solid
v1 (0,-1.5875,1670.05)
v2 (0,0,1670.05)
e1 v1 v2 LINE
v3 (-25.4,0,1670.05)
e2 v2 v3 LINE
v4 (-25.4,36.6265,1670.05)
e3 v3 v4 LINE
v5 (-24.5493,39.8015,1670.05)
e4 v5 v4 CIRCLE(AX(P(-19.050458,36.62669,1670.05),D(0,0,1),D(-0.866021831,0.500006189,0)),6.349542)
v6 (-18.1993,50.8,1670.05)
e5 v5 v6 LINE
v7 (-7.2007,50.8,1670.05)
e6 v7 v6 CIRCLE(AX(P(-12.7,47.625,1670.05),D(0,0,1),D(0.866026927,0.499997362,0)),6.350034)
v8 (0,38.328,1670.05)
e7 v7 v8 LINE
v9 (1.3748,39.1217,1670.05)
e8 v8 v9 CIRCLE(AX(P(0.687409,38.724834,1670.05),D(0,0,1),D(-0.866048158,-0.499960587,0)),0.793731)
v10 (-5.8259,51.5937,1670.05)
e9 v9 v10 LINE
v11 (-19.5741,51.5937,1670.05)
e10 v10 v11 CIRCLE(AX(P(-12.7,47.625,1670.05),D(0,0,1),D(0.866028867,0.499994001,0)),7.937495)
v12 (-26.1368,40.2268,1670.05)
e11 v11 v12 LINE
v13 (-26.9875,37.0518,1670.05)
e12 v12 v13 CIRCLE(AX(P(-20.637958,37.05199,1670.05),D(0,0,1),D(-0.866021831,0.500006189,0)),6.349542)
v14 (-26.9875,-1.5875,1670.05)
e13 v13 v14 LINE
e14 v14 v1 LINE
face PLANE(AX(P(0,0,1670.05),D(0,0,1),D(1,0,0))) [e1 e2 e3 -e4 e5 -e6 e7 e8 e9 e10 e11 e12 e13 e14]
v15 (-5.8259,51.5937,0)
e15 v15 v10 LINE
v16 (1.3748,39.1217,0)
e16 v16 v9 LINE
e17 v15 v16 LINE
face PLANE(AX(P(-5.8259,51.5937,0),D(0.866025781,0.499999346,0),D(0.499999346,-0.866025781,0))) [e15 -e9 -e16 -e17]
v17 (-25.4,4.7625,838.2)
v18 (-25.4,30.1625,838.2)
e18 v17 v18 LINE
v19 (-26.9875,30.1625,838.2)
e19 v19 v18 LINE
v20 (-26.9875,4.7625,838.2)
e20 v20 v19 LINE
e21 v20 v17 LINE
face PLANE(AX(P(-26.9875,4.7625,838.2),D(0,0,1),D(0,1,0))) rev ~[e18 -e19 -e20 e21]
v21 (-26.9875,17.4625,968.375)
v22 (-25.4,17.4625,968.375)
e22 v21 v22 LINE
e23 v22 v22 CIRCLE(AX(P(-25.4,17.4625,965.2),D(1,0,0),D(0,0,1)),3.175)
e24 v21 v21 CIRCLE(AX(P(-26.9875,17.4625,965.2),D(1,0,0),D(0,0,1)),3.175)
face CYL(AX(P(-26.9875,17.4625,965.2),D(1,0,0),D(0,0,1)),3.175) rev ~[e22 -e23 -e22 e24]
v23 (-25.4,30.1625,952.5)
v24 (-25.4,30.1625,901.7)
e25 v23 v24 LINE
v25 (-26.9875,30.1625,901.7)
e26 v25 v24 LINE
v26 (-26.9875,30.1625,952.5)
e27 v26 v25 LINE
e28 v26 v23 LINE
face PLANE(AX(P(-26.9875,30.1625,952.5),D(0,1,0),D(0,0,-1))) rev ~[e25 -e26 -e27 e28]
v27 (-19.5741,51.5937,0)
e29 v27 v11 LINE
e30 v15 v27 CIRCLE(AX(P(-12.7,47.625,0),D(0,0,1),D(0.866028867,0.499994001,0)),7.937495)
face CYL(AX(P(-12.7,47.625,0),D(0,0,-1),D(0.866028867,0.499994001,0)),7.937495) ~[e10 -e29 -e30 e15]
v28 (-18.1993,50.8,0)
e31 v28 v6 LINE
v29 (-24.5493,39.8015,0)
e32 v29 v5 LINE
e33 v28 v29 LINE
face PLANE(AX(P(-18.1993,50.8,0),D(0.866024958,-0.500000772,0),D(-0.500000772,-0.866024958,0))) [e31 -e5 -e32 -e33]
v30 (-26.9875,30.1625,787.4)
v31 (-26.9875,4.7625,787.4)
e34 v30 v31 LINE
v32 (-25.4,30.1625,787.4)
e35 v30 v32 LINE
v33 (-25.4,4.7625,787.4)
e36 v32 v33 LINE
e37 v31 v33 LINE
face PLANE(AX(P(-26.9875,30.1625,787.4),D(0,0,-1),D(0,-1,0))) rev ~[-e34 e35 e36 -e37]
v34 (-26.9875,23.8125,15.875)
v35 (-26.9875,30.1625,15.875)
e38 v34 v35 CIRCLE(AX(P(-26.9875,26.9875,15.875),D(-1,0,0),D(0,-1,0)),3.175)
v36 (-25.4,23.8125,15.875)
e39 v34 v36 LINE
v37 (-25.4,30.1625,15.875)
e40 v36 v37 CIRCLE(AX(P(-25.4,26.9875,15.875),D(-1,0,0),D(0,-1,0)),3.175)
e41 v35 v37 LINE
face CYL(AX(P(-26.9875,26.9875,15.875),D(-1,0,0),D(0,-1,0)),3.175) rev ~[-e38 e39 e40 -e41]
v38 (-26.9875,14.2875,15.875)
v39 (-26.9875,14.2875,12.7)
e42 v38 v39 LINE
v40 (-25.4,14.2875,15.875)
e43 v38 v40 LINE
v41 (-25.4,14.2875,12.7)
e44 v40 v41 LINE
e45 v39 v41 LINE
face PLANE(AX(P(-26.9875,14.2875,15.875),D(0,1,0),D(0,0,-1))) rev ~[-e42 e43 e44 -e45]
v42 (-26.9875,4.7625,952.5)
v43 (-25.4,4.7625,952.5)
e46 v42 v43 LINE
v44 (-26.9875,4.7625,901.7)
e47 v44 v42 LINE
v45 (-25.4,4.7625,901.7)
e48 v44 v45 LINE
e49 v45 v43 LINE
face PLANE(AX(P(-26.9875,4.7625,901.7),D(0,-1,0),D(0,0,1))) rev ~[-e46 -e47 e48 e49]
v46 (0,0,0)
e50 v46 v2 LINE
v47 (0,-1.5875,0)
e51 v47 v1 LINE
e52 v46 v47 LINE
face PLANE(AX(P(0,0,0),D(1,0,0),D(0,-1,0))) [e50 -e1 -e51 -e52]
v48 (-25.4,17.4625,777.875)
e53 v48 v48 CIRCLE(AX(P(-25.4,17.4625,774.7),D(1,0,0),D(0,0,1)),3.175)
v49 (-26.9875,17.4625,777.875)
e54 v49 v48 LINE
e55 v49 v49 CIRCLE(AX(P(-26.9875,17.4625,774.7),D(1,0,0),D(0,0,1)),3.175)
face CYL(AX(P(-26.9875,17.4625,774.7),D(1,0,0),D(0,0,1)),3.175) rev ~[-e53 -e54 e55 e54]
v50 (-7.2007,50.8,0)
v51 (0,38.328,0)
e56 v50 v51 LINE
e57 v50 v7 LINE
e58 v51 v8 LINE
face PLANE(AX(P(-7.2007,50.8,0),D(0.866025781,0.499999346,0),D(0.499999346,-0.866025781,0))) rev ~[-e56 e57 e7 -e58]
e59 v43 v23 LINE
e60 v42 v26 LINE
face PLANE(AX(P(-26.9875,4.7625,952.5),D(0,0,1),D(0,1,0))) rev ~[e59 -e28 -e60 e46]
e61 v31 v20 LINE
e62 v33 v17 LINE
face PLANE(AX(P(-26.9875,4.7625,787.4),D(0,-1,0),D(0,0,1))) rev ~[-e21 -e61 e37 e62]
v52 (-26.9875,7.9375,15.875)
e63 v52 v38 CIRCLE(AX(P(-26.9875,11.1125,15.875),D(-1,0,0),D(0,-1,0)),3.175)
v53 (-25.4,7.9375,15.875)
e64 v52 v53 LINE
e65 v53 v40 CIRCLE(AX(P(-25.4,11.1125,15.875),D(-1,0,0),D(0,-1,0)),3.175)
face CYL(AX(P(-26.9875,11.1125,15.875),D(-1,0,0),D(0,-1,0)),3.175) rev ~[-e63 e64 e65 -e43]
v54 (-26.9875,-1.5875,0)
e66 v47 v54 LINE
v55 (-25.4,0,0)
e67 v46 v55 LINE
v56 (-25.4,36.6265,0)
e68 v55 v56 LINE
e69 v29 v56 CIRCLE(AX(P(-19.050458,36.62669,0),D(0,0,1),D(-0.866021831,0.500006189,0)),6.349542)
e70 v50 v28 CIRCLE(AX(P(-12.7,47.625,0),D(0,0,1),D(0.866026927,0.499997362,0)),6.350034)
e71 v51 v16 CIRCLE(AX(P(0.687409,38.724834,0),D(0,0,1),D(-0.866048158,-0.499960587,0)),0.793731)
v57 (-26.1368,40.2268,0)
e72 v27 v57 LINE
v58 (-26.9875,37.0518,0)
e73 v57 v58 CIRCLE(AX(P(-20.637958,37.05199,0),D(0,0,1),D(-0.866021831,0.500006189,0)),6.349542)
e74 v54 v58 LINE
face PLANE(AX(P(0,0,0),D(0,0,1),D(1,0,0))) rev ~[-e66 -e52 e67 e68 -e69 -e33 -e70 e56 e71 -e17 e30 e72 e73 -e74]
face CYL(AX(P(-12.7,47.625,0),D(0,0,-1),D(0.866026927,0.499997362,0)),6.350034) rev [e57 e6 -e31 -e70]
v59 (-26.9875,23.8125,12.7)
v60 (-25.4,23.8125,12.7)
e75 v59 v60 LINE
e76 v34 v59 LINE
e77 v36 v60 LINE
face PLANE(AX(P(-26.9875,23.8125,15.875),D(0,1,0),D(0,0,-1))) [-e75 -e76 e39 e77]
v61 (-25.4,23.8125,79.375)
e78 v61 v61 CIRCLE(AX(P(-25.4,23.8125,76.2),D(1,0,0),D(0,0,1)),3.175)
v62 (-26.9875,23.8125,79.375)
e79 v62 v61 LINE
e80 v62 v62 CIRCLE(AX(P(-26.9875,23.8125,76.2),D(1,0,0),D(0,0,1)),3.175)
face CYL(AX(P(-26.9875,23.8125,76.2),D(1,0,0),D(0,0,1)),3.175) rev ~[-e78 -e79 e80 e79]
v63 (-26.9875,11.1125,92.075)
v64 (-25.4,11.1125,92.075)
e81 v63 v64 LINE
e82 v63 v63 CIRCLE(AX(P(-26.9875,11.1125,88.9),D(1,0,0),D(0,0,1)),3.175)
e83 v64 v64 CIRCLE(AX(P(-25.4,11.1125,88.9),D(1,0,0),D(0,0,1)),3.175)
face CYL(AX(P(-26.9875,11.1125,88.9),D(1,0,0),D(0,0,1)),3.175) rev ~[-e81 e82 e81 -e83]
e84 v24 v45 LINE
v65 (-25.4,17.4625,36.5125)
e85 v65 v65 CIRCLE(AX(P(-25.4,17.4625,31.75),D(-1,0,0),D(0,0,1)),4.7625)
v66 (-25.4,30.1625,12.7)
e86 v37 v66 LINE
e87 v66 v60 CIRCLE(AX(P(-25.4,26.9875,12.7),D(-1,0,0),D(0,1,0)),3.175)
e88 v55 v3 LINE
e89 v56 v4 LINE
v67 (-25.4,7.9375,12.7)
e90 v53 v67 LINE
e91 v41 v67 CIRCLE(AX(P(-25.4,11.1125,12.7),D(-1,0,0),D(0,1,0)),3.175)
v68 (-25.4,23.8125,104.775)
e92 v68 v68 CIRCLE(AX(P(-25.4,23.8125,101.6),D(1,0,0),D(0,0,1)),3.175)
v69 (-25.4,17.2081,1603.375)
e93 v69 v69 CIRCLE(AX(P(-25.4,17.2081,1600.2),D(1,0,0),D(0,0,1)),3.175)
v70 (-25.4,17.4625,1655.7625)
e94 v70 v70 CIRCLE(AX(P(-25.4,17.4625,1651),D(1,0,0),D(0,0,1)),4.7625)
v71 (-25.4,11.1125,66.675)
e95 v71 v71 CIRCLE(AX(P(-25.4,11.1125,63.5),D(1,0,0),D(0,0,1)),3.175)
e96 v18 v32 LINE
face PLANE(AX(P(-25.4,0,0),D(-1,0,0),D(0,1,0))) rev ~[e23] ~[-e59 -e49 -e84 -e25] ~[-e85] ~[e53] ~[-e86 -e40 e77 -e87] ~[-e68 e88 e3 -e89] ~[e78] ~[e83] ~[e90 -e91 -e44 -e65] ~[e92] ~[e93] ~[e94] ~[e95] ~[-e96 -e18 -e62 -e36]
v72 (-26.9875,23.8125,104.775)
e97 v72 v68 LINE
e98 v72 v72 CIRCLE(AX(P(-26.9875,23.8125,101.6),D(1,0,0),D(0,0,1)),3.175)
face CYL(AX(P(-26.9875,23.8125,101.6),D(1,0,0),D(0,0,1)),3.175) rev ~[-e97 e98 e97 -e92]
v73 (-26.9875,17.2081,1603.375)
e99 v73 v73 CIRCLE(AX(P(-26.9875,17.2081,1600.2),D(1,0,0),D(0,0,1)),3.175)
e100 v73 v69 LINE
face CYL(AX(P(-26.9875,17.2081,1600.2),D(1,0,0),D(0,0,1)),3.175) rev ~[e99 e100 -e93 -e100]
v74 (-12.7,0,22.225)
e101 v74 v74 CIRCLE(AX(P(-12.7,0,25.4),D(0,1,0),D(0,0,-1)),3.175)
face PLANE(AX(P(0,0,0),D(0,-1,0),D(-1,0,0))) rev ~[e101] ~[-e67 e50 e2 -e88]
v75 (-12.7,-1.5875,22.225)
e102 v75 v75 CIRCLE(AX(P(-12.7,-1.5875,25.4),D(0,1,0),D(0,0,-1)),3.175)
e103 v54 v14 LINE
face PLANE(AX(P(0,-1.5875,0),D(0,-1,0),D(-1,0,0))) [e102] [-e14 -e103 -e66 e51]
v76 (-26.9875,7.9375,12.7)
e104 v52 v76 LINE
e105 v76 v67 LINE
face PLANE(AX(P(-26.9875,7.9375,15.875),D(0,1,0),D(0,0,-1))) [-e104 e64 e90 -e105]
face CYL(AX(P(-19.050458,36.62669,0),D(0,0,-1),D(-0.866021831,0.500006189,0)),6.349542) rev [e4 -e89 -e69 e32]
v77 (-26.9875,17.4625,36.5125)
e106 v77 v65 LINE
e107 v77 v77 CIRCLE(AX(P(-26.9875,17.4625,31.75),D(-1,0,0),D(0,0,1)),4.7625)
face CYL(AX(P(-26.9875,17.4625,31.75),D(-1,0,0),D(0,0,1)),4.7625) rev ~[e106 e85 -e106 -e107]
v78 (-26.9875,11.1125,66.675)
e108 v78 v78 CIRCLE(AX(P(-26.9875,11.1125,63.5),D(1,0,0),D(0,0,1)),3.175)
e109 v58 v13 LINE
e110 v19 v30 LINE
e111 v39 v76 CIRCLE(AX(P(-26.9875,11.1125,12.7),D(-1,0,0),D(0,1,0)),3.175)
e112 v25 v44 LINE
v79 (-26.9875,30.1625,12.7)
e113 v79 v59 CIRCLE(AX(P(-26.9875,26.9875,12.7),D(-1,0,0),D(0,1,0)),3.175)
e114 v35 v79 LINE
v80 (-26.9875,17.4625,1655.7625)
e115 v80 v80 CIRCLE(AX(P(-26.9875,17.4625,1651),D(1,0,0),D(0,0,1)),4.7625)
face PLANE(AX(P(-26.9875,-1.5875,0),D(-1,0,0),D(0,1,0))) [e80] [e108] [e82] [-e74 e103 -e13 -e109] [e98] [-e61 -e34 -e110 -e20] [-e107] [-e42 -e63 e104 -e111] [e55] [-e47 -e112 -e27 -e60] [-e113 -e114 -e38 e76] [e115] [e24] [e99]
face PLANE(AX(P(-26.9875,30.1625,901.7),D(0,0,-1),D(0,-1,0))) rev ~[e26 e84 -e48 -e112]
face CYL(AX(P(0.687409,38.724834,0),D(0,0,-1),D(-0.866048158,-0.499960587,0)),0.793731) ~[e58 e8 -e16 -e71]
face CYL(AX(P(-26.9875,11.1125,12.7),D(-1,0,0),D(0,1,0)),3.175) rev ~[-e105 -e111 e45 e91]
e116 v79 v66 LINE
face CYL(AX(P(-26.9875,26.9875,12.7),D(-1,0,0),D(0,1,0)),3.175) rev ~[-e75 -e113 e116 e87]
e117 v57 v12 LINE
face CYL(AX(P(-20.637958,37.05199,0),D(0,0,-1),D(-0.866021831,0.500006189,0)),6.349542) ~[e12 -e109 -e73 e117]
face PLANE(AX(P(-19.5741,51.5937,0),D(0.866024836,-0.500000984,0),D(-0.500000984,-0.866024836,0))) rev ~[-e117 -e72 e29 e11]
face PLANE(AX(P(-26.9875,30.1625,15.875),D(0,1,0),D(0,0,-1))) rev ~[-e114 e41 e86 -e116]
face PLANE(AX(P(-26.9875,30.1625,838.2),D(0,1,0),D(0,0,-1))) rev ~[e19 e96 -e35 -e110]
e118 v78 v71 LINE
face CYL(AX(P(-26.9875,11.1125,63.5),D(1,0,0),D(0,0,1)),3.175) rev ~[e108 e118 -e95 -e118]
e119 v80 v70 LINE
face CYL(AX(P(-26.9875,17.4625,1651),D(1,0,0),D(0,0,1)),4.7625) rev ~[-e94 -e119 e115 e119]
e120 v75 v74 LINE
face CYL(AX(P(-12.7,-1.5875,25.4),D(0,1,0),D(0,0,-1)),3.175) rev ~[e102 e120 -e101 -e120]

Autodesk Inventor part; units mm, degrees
ref_plane "YZ Plane" through (0, 0, 0) normal (1, 0, 0) x (0, 1, 0)
ref_plane "XZ Plane" through (0, 0, 0) normal (0, 1, 0) x (-1, 0, 0)
ref_plane "XY Plane" through (0, 0, 0) normal (0, 0, 1) x (1, 0, 0)
sketch "Sketch1" plane through (0, 0, 0) normal (0, 0, 1) x (1, 0, 0)
  line L0 (0, 0) -> (-12.7, 0) construction
  line L1 (-12.7, 0) -> (-12.7, 53.975) construction
  line L2 (-12.7, 53.975) -> (0, 53.975) construction
  line L3 (0, 53.975) -> (0, 0) construction
  line L4 (-12.7, 53.975) -> (-25.4, 53.975) construction
  line L5 (-12.7, 53.975) -> (0, 53.975) construction
  line L6 (-25.4, 53.975) -> (-25.4, 0) construction
  line L7 (-25.4, 0) -> (-12.7, 0) construction
  circle A0 centre (-12.7, 6.35) radius 6.35 construction
  circle A1 centre (-12.7, 47.625) radius 6.35 construction
  line L8 (-12.7, 47.625) -> (-18.1993, 50.8) construction
  line L9 (-12.7, 47.625) -> (-6.35, 47.625) construction
  line L10 (-12.7, 47.625) -> (-7.2007, 50.8) construction
  line L11 (-12.7, 47.625) -> (-6.35, 47.625) construction
  line L12 (0, 0) -> (-25.4, 0)
  line L13 (0, 0) -> (0, -1.5875)
  line L14 (0, 0) -> (1.5875, 0) construction
  line L15 (0, -1.5875) -> (-26.9875, -1.5875)
  arc A2 (-7.2007, 50.8) -> (-18.1993, 50.8) centre (-12.7, 47.625) ccw
  line L16 (-7.2007, 50.8) -> (0, 38.328)
  line L17 (-7.2007, 50.8) -> (7.2007, 50.8) construction
  line L18 (-18.1993, 50.8) -> (-24.5493, 39.8015)
  line L19 (-18.1993, 50.8) -> (-5.4993, 50.8) construction
  line L20 (-25.4, 0) -> (-25.4, 36.6265)
  line L21 (-19.5741, 51.5937) -> (-26.1368, 40.2268)
  line L22 (-26.9875, -1.5875) -> (-26.9875, 37.0518)
  arc A3 (-26.1368, 40.2268) -> (-26.9875, 37.0518) centre (-20.6375, 37.0518) ccw
  arc A4 (-24.5493, 39.8015) -> (-25.4, 36.6265) centre (-19.05, 36.6265) ccw
  line L23 (-5.8259, 51.5937) -> (1.3748, 39.1217)
  arc A5 (-5.8259, 51.5937) -> (-19.5741, 51.5937) centre (-12.7, 47.625) ccw
  arc A6 (0, 38.328) -> (1.3748, 39.1217) centre (0.6874, 38.7248) ccw
  point P0 (-25.4, 38.328)
  dimension "d0" = 12.7
  dimension "d1" = 53.975
  dimension "d2" = 12.7
  dimension "d3" = 180
  dimension "d4" = 53.975
  dimension "d5" = 90
  dimension "d6" = 12.7
  dimension "d7" = 12.7
  dimension "d8" = 6.35
  dimension "d9" = 6.35
  dimension "d10" = 6.35
  dimension "d11" = 150
  dimension "d12" = 6.35
  dimension "d13" = 30
  dimension "d14" = 1.5875
  dimension "d15" = 90
  dimension "d16" = 26.9875
  dimension "d17" = 6.35
  dimension "d18" = 60
  dimension "d19" = 120
  dimension "d20" = 90
  dimension "d21" = 1.5875
  dimension "d22" = 6.35
  dimension "d23" = 6.35
  dimension "d24" = 1.5875
  dimension "d25" = 7.9375
  dimension "d26" = 0
extrude "Extrusion1" add sketch "Sketch1" along normal blind 1689.1
sketch "Sketch2" plane through (-26.9875, -1.5875, 0) normal (-1, 0, 0) x (0, 0, 1)
  line L0 (0, 38.6393) -> (0, 0) projected
  line L1 (0, 0) -> (1689.1, 0) projected
  line L2 (1689.1, 38.6393) -> (1689.1, 0) projected
  line L3 (0, 38.6393) -> (1689.1, 38.6393) projected
  point P0 (0, 1.5875)
  point P1 (1651, 19.05)
  dimension "d29" = 19.05
  dimension "d30" = 38.1
hole "Hole1" at (-26.9875, 17.4625, 1651) direction (1, 0, 0) diameter 9.525 end through all
sketch "Sketch3" plane through (-26.9875, -1.5875, 0) normal (-1, 0, 0) x (0, 0, 1)
  circle A0 centre (1651, 19.05) radius 4.7625 projected
  line L0 (0, 38.6393) -> (0, 0) projected
  line L1 (0, 0) -> (1689.1, 0) projected
  line L2 (1689.1, 38.6393) -> (1689.1, 0) projected
  line L3 (0, 38.6393) -> (1689.1, 38.6393) projected
  circle A1 centre (31.75, 19.05) radius 4.7625
  line L4 (15.875, 28.575) -> (15.875, 25.4) construction
  line L5 (15.875, 28.575) -> (15.875, 31.75) construction
  line L6 (12.7, 28.575) -> (12.7, 31.75) construction
  line L7 (12.7, 28.575) -> (12.7, 25.4) construction
  line L8 (15.875, 12.7) -> (15.875, 15.875) construction
  line L9 (12.7, 12.7) -> (12.7, 15.875) construction
  line L10 (15.875, 12.7) -> (15.875, 9.525) construction
  line L11 (12.7, 12.7) -> (12.7, 9.525) construction
  arc A2 (15.875, 25.4) -> (15.875, 31.75) centre (15.875, 28.575) ccw
  arc A3 (12.7, 31.75) -> (12.7, 25.4) centre (12.7, 28.575) ccw
  arc A4 (15.875, 9.525) -> (15.875, 15.875) centre (15.875, 12.7) ccw
  arc A5 (12.7, 15.875) -> (12.7, 9.525) centre (12.7, 12.7) ccw
  line L12 (15.875, 31.75) -> (12.7, 31.75)
  line L13 (15.875, 25.4) -> (12.7, 25.4)
  line L14 (15.875, 15.875) -> (12.7, 15.875)
  line L15 (15.875, 9.525) -> (12.7, 9.525)
  point P0 (0, 1.5875)
  dimension "d45" = 12.7
  dimension "d46" = 15.875
  dimension "d47" = 31.75
  dimension "d48" = 12.7
  dimension "d49" = 15.875
  dimension "d50" = 9.525
  dimension "d51" = 19.05
  dimension "d52" = 12.7
  dimension "d53" = 12.7
  dimension "d54" = 28.575
  dimension "d55" = 28.575
  dimension "d56" = 3.175
  dimension "d57" = 3.175
  dimension "d58" = 3.175
  dimension "d59" = 3.175
  dimension "d60" = 3.175
  dimension "d61" = 3.175
  dimension "d62" = 3.175
  dimension "d63" = 3.175
  dimension "d64" = 3.175
  dimension "d65" = 3.175
  dimension "d66" = 3.175
  dimension "d67" = 3.175
extrude "Extrusion2" cut sketch "Sketch3" against normal blind 25.4 contours A1 | L13 A3 L12 A2 | L15 A5 L14 A4
sketch "Sketch4" plane through (-26.9875, -1.5875, 0) normal (-1, 0, 0) x (0, 0, 1)
  line L0 (12.7, 15.875) -> (15.875, 15.875) projected
  arc A0 (15.875, 9.525) -> (15.875, 15.875) centre (15.875, 12.7) ccw projected
  line L1 (15.875, 9.525) -> (12.7, 9.525) projected
  arc A1 (12.7, 15.875) -> (12.7, 9.525) centre (12.7, 12.7) ccw projected
  line L2 (12.7, 31.75) -> (15.875, 31.75) projected
  arc A2 (15.875, 25.4) -> (15.875, 31.75) centre (15.875, 28.575) ccw projected
  line L3 (15.875, 25.4) -> (12.7, 25.4) projected
  arc A3 (12.7, 31.75) -> (12.7, 25.4) centre (12.7, 28.575) ccw projected
  circle A4 centre (31.75, 19.05) radius 4.7625 projected
  circle A5 centre (1651, 19.05) radius 4.7625 projected
  line L4 (0, 38.6393) -> (0, 0) projected
  line L5 (0, 0) -> (1689.1, 0) projected
  line L6 (1689.1, 38.6393) -> (1689.1, 0) projected
  line L7 (0, 38.6393) -> (1689.1, 38.6393) projected
  point P0 (0, 1.5875)
  point P1 (101.6, 25.4)
  point P2 (88.9, 12.7)
  point P3 (76.2, 25.4)
  point P4 (63.5, 12.7)
  dimension "d70" = 63.5
  dimension "d71" = 76.2
  dimension "d72" = 88.9
  dimension "d73" = 101.6
  dimension "d74" = 12.7
  dimension "d77" = 12.7
  dimension "d120" = 25.4
  dimension "d121" = 25.4
hole "Hole2" at (-26.9875, 23.8125, 101.6) at (-26.9875, 11.1125, 88.9) at (-26.9875, 23.8125, 76.2) at (-26.9875, 11.1125, 63.5) direction (1, 0, 0) diameter 6.35 end through all
sketch "Sketch6" plane through (-26.9875, -1.5875, 0) normal (-1, 0, 0) x (0, 0, 1)
  circle A0 centre (76.2, 25.4) radius 3.175 projected
  circle A1 centre (101.6, 25.4) radius 3.175 projected
  circle A2 centre (88.9, 12.7) radius 3.175 projected
  circle A3 centre (63.5, 12.7) radius 3.175 projected
  line L0 (12.7, 15.875) -> (15.875, 15.875) projected
  arc A4 (15.875, 9.525) -> (15.875, 15.875) centre (15.875, 12.7) ccw projected
  line L1 (15.875, 9.525) -> (12.7, 9.525) projected
  arc A5 (12.7, 15.875) -> (12.7, 9.525) centre (12.7, 12.7) ccw projected
  line L2 (12.7, 31.75) -> (15.875, 31.75) projected
  arc A6 (15.875, 25.4) -> (15.875, 31.75) centre (15.875, 28.575) ccw projected
  line L3 (15.875, 25.4) -> (12.7, 25.4) projected
  arc A7 (12.7, 31.75) -> (12.7, 25.4) centre (12.7, 28.575) ccw projected
  circle A8 centre (31.75, 19.05) radius 4.7625 projected
  circle A9 centre (1651, 19.05) radius 4.7625 projected
  line L4 (0, 38.6393) -> (0, 0) projected
  line L5 (0, 0) -> (1689.1, 0) projected
  line L6 (1689.1, 38.6393) -> (1689.1, 0) projected
  line L7 (0, 38.6393) -> (1689.1, 38.6393) projected
  line L8 (787.4, 6.35) -> (838.2, 6.35)
  line L9 (838.2, 6.35) -> (838.2, 31.75)
  line L10 (838.2, 31.75) -> (787.4, 31.75)
  line L11 (787.4, 31.75) -> (787.4, 6.35)
  line L12 (901.7, 6.35) -> (952.5, 6.35)
  line L13 (952.5, 6.35) -> (952.5, 31.75)
  line L14 (952.5, 31.75) -> (901.7, 31.75)
  line L15 (901.7, 31.75) -> (901.7, 6.35)
  point P0 (0, 1.5875)
  dimension "d98" = 50.8
  dimension "d99" = 25.4
  dimension "d100" = 50.8
  dimension "d101" = 25.4
  dimension "d102" = 787.4
  dimension "d103" = 901.7
  dimension "d104" = 6.35
  dimension "d105" = 6.35
extrude "Extrusion3" cut sketch "Sketch6" against normal blind 25.4 contours L11 L10 L9 L8 | L15 L14 L13 L12
sketch "Sketch8" plane through (-26.9875, -1.5875, 0) normal (-1, 0, 0) x (0, 0, 1)
  line L0 (838.2, 31.75) -> (838.2, 6.35) projected
  line L1 (838.2, 6.35) -> (787.4, 6.35) projected
  line L2 (787.4, 6.35) -> (787.4, 31.75) projected
  line L3 (787.4, 31.75) -> (838.2, 31.75) projected
  line L4 (952.5, 31.75) -> (952.5, 6.35) projected
  line L5 (952.5, 6.35) -> (901.7, 6.35) projected
  line L6 (901.7, 6.35) -> (901.7, 31.75) projected
  line L7 (901.7, 31.75) -> (952.5, 31.75) projected
  circle A0 centre (76.2, 25.4) radius 3.175 projected
  circle A1 centre (101.6, 25.4) radius 3.175 projected
  circle A2 centre (88.9, 12.7) radius 3.175 projected
  circle A3 centre (63.5, 12.7) radius 3.175 projected
  line L8 (12.7, 15.875) -> (15.875, 15.875) projected
  arc A4 (15.875, 9.525) -> (15.875, 15.875) centre (15.875, 12.7) ccw projected
  line L9 (15.875, 9.525) -> (12.7, 9.525) projected
  arc A5 (12.7, 15.875) -> (12.7, 9.525) centre (12.7, 12.7) ccw projected
  line L10 (12.7, 31.75) -> (15.875, 31.75) projected
  arc A6 (15.875, 25.4) -> (15.875, 31.75) centre (15.875, 28.575) ccw projected
  line L11 (15.875, 25.4) -> (12.7, 25.4) projected
  arc A7 (12.7, 31.75) -> (12.7, 25.4) centre (12.7, 28.575) ccw projected
  circle A8 centre (31.75, 19.05) radius 4.7625 projected
  circle A9 centre (1651, 19.05) radius 4.7625 projected
  line L12 (0, 38.6393) -> (0, 0) projected
  line L13 (0, 0) -> (1689.1, 0) projected
  line L14 (1689.1, 38.6393) -> (1689.1, 0) projected
  line L15 (0, 38.6393) -> (1689.1, 38.6393) projected
  point P0 (0, 1.5875)
  point P1 (965.2, 19.05)
  point P2 (774.7, 19.05)
  dimension "d122" = 19.05
  dimension "d123" = 19.05
  dimension "d124" = 190.5
  dimension "d125" = 774.7
hole "Hole5" at (-26.9875, 17.4625, 965.2) at (-26.9875, 17.4625, 774.7) direction (1, 0, 0) diameter 6.35 end through all
sketch "Sketch9" plane through (0, -1.5875, 0) normal (0, -1, 0) x (1, 0, 0)
  line L0 (-26.9875, 0) -> (0, 0) projected
  line L1 (0, 0) -> (0, 1689.1) projected
  line L2 (-26.9875, 1689.1) -> (0, 1689.1) projected
  point P0 (-12.7, 25.4)
  point P1 (-12.7, 1676.4)
  dimension "d135" = 12.7
  dimension "d136" = 12.7
  dimension "d137" = 12.7
  dimension "d138" = 25.4
hole "Hole6" at (-12.7, -1.5875, 25.4) at (-12.7, -1.5875, 1676.4) direction (0, 1, 0) diameter 6.35 depth 25.4 tip angle 118
sketch "Sketch10" plane through (0, 0, 1689.1) normal (0, 0, 1) x (1, 0, 0)
  line L0 (0, 0) -> (-25.4, 0) projected
  line L1 (-25.4, 0) -> (-25.4, 36.6265) projected
  arc A0 (-24.5493, 39.8015) -> (-25.4, 36.6265) centre (-19.05, 36.6265) ccw projected
  line L2 (-24.5493, 39.8015) -> (-18.1993, 50.8) projected
  arc A1 (-7.2007, 50.8) -> (-18.1993, 50.8) centre (-12.7, 47.625) ccw projected
  line L3 (-7.2007, 50.8) -> (0, 38.328) projected
  arc A2 (0, 38.328) -> (1.3748, 39.1217) centre (0.6874, 38.7248) ccw projected
  line L4 (1.3748, 39.1217) -> (-5.8259, 51.5937) projected
  arc A3 (-5.8259, 51.5937) -> (-19.5741, 51.5937) centre (-12.7, 47.625) ccw projected
  line L5 (-19.5741, 51.5937) -> (-26.1368, 40.2268) projected
  arc A4 (-26.1368, 40.2268) -> (-26.9875, 37.0518) centre (-20.6375, 37.0518) ccw projected
  line L6 (-26.9875, 37.0518) -> (-26.9875, -1.5875) projected
  line L7 (-26.9875, -1.5875) -> (0, -1.5875) projected
  line L8 (0, -1.5875) -> (0, 0) projected
extrude "Extrusion4" cut sketch "Sketch10" against normal blind 19.05
sketch "Sketch11" plane through (-26.9875, -1.5875, 0) normal (-1, 0, 0) x (0, 0, 1)
  line L0 (1670.05, 0) -> (1670.05, 38.6393) projected
  line L1 (0, 38.6393) -> (1670.05, 38.6393) projected
  line L2 (0, 38.6393) -> (0, 0) projected
  line L3 (0, 0) -> (1670.05, 0) projected
  circle A0 centre (965.2, 19.05) radius 3.175 projected
  circle A1 centre (774.7, 19.05) radius 3.175 projected
  line L4 (838.2, 31.75) -> (838.2, 6.35) projected
  line L5 (838.2, 6.35) -> (787.4, 6.35) projected
  line L6 (787.4, 6.35) -> (787.4, 31.75) projected
  line L7 (787.4, 31.75) -> (838.2, 31.75) projected
  line L8 (952.5, 31.75) -> (952.5, 6.35) projected
  line L9 (952.5, 6.35) -> (901.7, 6.35) projected
  line L10 (901.7, 6.35) -> (901.7, 31.75) projected
  line L11 (901.7, 31.75) -> (952.5, 31.75) projected
  circle A2 centre (76.2, 25.4) radius 3.175 projected
  circle A3 centre (101.6, 25.4) radius 3.175 projected
  circle A4 centre (88.9, 12.7) radius 3.175 projected
  circle A5 centre (63.5, 12.7) radius 3.175 projected
  line L12 (12.7, 15.875) -> (15.875, 15.875) projected
  arc A6 (15.875, 9.525) -> (15.875, 15.875) centre (15.875, 12.7) ccw projected
  line L13 (15.875, 9.525) -> (12.7, 9.525) projected
  arc A7 (12.7, 15.875) -> (12.7, 9.525) centre (12.7, 12.7) ccw projected
  line L14 (12.7, 31.75) -> (15.875, 31.75) projected
  arc A8 (15.875, 25.4) -> (15.875, 31.75) centre (15.875, 28.575) ccw projected
  line L15 (15.875, 25.4) -> (12.7, 25.4) projected
  arc A9 (12.7, 31.75) -> (12.7, 25.4) centre (12.7, 28.575) ccw projected
  circle A10 centre (31.75, 19.05) radius 4.7625 projected
  circle A11 centre (1651, 19.05) radius 4.7625 projected
  point P0 (0, 1.5875)
  point P1 (1600.2, 18.7956)
  dimension "d148" = 19.8438
  dimension "d149" = 69.85
hole "Hole7" at (-26.9875, 17.2081, 1600.2) direction (1, 0, 0) diameter 6.35 end through all
properties part number "2in rail right" material "Steel, Alloy"
